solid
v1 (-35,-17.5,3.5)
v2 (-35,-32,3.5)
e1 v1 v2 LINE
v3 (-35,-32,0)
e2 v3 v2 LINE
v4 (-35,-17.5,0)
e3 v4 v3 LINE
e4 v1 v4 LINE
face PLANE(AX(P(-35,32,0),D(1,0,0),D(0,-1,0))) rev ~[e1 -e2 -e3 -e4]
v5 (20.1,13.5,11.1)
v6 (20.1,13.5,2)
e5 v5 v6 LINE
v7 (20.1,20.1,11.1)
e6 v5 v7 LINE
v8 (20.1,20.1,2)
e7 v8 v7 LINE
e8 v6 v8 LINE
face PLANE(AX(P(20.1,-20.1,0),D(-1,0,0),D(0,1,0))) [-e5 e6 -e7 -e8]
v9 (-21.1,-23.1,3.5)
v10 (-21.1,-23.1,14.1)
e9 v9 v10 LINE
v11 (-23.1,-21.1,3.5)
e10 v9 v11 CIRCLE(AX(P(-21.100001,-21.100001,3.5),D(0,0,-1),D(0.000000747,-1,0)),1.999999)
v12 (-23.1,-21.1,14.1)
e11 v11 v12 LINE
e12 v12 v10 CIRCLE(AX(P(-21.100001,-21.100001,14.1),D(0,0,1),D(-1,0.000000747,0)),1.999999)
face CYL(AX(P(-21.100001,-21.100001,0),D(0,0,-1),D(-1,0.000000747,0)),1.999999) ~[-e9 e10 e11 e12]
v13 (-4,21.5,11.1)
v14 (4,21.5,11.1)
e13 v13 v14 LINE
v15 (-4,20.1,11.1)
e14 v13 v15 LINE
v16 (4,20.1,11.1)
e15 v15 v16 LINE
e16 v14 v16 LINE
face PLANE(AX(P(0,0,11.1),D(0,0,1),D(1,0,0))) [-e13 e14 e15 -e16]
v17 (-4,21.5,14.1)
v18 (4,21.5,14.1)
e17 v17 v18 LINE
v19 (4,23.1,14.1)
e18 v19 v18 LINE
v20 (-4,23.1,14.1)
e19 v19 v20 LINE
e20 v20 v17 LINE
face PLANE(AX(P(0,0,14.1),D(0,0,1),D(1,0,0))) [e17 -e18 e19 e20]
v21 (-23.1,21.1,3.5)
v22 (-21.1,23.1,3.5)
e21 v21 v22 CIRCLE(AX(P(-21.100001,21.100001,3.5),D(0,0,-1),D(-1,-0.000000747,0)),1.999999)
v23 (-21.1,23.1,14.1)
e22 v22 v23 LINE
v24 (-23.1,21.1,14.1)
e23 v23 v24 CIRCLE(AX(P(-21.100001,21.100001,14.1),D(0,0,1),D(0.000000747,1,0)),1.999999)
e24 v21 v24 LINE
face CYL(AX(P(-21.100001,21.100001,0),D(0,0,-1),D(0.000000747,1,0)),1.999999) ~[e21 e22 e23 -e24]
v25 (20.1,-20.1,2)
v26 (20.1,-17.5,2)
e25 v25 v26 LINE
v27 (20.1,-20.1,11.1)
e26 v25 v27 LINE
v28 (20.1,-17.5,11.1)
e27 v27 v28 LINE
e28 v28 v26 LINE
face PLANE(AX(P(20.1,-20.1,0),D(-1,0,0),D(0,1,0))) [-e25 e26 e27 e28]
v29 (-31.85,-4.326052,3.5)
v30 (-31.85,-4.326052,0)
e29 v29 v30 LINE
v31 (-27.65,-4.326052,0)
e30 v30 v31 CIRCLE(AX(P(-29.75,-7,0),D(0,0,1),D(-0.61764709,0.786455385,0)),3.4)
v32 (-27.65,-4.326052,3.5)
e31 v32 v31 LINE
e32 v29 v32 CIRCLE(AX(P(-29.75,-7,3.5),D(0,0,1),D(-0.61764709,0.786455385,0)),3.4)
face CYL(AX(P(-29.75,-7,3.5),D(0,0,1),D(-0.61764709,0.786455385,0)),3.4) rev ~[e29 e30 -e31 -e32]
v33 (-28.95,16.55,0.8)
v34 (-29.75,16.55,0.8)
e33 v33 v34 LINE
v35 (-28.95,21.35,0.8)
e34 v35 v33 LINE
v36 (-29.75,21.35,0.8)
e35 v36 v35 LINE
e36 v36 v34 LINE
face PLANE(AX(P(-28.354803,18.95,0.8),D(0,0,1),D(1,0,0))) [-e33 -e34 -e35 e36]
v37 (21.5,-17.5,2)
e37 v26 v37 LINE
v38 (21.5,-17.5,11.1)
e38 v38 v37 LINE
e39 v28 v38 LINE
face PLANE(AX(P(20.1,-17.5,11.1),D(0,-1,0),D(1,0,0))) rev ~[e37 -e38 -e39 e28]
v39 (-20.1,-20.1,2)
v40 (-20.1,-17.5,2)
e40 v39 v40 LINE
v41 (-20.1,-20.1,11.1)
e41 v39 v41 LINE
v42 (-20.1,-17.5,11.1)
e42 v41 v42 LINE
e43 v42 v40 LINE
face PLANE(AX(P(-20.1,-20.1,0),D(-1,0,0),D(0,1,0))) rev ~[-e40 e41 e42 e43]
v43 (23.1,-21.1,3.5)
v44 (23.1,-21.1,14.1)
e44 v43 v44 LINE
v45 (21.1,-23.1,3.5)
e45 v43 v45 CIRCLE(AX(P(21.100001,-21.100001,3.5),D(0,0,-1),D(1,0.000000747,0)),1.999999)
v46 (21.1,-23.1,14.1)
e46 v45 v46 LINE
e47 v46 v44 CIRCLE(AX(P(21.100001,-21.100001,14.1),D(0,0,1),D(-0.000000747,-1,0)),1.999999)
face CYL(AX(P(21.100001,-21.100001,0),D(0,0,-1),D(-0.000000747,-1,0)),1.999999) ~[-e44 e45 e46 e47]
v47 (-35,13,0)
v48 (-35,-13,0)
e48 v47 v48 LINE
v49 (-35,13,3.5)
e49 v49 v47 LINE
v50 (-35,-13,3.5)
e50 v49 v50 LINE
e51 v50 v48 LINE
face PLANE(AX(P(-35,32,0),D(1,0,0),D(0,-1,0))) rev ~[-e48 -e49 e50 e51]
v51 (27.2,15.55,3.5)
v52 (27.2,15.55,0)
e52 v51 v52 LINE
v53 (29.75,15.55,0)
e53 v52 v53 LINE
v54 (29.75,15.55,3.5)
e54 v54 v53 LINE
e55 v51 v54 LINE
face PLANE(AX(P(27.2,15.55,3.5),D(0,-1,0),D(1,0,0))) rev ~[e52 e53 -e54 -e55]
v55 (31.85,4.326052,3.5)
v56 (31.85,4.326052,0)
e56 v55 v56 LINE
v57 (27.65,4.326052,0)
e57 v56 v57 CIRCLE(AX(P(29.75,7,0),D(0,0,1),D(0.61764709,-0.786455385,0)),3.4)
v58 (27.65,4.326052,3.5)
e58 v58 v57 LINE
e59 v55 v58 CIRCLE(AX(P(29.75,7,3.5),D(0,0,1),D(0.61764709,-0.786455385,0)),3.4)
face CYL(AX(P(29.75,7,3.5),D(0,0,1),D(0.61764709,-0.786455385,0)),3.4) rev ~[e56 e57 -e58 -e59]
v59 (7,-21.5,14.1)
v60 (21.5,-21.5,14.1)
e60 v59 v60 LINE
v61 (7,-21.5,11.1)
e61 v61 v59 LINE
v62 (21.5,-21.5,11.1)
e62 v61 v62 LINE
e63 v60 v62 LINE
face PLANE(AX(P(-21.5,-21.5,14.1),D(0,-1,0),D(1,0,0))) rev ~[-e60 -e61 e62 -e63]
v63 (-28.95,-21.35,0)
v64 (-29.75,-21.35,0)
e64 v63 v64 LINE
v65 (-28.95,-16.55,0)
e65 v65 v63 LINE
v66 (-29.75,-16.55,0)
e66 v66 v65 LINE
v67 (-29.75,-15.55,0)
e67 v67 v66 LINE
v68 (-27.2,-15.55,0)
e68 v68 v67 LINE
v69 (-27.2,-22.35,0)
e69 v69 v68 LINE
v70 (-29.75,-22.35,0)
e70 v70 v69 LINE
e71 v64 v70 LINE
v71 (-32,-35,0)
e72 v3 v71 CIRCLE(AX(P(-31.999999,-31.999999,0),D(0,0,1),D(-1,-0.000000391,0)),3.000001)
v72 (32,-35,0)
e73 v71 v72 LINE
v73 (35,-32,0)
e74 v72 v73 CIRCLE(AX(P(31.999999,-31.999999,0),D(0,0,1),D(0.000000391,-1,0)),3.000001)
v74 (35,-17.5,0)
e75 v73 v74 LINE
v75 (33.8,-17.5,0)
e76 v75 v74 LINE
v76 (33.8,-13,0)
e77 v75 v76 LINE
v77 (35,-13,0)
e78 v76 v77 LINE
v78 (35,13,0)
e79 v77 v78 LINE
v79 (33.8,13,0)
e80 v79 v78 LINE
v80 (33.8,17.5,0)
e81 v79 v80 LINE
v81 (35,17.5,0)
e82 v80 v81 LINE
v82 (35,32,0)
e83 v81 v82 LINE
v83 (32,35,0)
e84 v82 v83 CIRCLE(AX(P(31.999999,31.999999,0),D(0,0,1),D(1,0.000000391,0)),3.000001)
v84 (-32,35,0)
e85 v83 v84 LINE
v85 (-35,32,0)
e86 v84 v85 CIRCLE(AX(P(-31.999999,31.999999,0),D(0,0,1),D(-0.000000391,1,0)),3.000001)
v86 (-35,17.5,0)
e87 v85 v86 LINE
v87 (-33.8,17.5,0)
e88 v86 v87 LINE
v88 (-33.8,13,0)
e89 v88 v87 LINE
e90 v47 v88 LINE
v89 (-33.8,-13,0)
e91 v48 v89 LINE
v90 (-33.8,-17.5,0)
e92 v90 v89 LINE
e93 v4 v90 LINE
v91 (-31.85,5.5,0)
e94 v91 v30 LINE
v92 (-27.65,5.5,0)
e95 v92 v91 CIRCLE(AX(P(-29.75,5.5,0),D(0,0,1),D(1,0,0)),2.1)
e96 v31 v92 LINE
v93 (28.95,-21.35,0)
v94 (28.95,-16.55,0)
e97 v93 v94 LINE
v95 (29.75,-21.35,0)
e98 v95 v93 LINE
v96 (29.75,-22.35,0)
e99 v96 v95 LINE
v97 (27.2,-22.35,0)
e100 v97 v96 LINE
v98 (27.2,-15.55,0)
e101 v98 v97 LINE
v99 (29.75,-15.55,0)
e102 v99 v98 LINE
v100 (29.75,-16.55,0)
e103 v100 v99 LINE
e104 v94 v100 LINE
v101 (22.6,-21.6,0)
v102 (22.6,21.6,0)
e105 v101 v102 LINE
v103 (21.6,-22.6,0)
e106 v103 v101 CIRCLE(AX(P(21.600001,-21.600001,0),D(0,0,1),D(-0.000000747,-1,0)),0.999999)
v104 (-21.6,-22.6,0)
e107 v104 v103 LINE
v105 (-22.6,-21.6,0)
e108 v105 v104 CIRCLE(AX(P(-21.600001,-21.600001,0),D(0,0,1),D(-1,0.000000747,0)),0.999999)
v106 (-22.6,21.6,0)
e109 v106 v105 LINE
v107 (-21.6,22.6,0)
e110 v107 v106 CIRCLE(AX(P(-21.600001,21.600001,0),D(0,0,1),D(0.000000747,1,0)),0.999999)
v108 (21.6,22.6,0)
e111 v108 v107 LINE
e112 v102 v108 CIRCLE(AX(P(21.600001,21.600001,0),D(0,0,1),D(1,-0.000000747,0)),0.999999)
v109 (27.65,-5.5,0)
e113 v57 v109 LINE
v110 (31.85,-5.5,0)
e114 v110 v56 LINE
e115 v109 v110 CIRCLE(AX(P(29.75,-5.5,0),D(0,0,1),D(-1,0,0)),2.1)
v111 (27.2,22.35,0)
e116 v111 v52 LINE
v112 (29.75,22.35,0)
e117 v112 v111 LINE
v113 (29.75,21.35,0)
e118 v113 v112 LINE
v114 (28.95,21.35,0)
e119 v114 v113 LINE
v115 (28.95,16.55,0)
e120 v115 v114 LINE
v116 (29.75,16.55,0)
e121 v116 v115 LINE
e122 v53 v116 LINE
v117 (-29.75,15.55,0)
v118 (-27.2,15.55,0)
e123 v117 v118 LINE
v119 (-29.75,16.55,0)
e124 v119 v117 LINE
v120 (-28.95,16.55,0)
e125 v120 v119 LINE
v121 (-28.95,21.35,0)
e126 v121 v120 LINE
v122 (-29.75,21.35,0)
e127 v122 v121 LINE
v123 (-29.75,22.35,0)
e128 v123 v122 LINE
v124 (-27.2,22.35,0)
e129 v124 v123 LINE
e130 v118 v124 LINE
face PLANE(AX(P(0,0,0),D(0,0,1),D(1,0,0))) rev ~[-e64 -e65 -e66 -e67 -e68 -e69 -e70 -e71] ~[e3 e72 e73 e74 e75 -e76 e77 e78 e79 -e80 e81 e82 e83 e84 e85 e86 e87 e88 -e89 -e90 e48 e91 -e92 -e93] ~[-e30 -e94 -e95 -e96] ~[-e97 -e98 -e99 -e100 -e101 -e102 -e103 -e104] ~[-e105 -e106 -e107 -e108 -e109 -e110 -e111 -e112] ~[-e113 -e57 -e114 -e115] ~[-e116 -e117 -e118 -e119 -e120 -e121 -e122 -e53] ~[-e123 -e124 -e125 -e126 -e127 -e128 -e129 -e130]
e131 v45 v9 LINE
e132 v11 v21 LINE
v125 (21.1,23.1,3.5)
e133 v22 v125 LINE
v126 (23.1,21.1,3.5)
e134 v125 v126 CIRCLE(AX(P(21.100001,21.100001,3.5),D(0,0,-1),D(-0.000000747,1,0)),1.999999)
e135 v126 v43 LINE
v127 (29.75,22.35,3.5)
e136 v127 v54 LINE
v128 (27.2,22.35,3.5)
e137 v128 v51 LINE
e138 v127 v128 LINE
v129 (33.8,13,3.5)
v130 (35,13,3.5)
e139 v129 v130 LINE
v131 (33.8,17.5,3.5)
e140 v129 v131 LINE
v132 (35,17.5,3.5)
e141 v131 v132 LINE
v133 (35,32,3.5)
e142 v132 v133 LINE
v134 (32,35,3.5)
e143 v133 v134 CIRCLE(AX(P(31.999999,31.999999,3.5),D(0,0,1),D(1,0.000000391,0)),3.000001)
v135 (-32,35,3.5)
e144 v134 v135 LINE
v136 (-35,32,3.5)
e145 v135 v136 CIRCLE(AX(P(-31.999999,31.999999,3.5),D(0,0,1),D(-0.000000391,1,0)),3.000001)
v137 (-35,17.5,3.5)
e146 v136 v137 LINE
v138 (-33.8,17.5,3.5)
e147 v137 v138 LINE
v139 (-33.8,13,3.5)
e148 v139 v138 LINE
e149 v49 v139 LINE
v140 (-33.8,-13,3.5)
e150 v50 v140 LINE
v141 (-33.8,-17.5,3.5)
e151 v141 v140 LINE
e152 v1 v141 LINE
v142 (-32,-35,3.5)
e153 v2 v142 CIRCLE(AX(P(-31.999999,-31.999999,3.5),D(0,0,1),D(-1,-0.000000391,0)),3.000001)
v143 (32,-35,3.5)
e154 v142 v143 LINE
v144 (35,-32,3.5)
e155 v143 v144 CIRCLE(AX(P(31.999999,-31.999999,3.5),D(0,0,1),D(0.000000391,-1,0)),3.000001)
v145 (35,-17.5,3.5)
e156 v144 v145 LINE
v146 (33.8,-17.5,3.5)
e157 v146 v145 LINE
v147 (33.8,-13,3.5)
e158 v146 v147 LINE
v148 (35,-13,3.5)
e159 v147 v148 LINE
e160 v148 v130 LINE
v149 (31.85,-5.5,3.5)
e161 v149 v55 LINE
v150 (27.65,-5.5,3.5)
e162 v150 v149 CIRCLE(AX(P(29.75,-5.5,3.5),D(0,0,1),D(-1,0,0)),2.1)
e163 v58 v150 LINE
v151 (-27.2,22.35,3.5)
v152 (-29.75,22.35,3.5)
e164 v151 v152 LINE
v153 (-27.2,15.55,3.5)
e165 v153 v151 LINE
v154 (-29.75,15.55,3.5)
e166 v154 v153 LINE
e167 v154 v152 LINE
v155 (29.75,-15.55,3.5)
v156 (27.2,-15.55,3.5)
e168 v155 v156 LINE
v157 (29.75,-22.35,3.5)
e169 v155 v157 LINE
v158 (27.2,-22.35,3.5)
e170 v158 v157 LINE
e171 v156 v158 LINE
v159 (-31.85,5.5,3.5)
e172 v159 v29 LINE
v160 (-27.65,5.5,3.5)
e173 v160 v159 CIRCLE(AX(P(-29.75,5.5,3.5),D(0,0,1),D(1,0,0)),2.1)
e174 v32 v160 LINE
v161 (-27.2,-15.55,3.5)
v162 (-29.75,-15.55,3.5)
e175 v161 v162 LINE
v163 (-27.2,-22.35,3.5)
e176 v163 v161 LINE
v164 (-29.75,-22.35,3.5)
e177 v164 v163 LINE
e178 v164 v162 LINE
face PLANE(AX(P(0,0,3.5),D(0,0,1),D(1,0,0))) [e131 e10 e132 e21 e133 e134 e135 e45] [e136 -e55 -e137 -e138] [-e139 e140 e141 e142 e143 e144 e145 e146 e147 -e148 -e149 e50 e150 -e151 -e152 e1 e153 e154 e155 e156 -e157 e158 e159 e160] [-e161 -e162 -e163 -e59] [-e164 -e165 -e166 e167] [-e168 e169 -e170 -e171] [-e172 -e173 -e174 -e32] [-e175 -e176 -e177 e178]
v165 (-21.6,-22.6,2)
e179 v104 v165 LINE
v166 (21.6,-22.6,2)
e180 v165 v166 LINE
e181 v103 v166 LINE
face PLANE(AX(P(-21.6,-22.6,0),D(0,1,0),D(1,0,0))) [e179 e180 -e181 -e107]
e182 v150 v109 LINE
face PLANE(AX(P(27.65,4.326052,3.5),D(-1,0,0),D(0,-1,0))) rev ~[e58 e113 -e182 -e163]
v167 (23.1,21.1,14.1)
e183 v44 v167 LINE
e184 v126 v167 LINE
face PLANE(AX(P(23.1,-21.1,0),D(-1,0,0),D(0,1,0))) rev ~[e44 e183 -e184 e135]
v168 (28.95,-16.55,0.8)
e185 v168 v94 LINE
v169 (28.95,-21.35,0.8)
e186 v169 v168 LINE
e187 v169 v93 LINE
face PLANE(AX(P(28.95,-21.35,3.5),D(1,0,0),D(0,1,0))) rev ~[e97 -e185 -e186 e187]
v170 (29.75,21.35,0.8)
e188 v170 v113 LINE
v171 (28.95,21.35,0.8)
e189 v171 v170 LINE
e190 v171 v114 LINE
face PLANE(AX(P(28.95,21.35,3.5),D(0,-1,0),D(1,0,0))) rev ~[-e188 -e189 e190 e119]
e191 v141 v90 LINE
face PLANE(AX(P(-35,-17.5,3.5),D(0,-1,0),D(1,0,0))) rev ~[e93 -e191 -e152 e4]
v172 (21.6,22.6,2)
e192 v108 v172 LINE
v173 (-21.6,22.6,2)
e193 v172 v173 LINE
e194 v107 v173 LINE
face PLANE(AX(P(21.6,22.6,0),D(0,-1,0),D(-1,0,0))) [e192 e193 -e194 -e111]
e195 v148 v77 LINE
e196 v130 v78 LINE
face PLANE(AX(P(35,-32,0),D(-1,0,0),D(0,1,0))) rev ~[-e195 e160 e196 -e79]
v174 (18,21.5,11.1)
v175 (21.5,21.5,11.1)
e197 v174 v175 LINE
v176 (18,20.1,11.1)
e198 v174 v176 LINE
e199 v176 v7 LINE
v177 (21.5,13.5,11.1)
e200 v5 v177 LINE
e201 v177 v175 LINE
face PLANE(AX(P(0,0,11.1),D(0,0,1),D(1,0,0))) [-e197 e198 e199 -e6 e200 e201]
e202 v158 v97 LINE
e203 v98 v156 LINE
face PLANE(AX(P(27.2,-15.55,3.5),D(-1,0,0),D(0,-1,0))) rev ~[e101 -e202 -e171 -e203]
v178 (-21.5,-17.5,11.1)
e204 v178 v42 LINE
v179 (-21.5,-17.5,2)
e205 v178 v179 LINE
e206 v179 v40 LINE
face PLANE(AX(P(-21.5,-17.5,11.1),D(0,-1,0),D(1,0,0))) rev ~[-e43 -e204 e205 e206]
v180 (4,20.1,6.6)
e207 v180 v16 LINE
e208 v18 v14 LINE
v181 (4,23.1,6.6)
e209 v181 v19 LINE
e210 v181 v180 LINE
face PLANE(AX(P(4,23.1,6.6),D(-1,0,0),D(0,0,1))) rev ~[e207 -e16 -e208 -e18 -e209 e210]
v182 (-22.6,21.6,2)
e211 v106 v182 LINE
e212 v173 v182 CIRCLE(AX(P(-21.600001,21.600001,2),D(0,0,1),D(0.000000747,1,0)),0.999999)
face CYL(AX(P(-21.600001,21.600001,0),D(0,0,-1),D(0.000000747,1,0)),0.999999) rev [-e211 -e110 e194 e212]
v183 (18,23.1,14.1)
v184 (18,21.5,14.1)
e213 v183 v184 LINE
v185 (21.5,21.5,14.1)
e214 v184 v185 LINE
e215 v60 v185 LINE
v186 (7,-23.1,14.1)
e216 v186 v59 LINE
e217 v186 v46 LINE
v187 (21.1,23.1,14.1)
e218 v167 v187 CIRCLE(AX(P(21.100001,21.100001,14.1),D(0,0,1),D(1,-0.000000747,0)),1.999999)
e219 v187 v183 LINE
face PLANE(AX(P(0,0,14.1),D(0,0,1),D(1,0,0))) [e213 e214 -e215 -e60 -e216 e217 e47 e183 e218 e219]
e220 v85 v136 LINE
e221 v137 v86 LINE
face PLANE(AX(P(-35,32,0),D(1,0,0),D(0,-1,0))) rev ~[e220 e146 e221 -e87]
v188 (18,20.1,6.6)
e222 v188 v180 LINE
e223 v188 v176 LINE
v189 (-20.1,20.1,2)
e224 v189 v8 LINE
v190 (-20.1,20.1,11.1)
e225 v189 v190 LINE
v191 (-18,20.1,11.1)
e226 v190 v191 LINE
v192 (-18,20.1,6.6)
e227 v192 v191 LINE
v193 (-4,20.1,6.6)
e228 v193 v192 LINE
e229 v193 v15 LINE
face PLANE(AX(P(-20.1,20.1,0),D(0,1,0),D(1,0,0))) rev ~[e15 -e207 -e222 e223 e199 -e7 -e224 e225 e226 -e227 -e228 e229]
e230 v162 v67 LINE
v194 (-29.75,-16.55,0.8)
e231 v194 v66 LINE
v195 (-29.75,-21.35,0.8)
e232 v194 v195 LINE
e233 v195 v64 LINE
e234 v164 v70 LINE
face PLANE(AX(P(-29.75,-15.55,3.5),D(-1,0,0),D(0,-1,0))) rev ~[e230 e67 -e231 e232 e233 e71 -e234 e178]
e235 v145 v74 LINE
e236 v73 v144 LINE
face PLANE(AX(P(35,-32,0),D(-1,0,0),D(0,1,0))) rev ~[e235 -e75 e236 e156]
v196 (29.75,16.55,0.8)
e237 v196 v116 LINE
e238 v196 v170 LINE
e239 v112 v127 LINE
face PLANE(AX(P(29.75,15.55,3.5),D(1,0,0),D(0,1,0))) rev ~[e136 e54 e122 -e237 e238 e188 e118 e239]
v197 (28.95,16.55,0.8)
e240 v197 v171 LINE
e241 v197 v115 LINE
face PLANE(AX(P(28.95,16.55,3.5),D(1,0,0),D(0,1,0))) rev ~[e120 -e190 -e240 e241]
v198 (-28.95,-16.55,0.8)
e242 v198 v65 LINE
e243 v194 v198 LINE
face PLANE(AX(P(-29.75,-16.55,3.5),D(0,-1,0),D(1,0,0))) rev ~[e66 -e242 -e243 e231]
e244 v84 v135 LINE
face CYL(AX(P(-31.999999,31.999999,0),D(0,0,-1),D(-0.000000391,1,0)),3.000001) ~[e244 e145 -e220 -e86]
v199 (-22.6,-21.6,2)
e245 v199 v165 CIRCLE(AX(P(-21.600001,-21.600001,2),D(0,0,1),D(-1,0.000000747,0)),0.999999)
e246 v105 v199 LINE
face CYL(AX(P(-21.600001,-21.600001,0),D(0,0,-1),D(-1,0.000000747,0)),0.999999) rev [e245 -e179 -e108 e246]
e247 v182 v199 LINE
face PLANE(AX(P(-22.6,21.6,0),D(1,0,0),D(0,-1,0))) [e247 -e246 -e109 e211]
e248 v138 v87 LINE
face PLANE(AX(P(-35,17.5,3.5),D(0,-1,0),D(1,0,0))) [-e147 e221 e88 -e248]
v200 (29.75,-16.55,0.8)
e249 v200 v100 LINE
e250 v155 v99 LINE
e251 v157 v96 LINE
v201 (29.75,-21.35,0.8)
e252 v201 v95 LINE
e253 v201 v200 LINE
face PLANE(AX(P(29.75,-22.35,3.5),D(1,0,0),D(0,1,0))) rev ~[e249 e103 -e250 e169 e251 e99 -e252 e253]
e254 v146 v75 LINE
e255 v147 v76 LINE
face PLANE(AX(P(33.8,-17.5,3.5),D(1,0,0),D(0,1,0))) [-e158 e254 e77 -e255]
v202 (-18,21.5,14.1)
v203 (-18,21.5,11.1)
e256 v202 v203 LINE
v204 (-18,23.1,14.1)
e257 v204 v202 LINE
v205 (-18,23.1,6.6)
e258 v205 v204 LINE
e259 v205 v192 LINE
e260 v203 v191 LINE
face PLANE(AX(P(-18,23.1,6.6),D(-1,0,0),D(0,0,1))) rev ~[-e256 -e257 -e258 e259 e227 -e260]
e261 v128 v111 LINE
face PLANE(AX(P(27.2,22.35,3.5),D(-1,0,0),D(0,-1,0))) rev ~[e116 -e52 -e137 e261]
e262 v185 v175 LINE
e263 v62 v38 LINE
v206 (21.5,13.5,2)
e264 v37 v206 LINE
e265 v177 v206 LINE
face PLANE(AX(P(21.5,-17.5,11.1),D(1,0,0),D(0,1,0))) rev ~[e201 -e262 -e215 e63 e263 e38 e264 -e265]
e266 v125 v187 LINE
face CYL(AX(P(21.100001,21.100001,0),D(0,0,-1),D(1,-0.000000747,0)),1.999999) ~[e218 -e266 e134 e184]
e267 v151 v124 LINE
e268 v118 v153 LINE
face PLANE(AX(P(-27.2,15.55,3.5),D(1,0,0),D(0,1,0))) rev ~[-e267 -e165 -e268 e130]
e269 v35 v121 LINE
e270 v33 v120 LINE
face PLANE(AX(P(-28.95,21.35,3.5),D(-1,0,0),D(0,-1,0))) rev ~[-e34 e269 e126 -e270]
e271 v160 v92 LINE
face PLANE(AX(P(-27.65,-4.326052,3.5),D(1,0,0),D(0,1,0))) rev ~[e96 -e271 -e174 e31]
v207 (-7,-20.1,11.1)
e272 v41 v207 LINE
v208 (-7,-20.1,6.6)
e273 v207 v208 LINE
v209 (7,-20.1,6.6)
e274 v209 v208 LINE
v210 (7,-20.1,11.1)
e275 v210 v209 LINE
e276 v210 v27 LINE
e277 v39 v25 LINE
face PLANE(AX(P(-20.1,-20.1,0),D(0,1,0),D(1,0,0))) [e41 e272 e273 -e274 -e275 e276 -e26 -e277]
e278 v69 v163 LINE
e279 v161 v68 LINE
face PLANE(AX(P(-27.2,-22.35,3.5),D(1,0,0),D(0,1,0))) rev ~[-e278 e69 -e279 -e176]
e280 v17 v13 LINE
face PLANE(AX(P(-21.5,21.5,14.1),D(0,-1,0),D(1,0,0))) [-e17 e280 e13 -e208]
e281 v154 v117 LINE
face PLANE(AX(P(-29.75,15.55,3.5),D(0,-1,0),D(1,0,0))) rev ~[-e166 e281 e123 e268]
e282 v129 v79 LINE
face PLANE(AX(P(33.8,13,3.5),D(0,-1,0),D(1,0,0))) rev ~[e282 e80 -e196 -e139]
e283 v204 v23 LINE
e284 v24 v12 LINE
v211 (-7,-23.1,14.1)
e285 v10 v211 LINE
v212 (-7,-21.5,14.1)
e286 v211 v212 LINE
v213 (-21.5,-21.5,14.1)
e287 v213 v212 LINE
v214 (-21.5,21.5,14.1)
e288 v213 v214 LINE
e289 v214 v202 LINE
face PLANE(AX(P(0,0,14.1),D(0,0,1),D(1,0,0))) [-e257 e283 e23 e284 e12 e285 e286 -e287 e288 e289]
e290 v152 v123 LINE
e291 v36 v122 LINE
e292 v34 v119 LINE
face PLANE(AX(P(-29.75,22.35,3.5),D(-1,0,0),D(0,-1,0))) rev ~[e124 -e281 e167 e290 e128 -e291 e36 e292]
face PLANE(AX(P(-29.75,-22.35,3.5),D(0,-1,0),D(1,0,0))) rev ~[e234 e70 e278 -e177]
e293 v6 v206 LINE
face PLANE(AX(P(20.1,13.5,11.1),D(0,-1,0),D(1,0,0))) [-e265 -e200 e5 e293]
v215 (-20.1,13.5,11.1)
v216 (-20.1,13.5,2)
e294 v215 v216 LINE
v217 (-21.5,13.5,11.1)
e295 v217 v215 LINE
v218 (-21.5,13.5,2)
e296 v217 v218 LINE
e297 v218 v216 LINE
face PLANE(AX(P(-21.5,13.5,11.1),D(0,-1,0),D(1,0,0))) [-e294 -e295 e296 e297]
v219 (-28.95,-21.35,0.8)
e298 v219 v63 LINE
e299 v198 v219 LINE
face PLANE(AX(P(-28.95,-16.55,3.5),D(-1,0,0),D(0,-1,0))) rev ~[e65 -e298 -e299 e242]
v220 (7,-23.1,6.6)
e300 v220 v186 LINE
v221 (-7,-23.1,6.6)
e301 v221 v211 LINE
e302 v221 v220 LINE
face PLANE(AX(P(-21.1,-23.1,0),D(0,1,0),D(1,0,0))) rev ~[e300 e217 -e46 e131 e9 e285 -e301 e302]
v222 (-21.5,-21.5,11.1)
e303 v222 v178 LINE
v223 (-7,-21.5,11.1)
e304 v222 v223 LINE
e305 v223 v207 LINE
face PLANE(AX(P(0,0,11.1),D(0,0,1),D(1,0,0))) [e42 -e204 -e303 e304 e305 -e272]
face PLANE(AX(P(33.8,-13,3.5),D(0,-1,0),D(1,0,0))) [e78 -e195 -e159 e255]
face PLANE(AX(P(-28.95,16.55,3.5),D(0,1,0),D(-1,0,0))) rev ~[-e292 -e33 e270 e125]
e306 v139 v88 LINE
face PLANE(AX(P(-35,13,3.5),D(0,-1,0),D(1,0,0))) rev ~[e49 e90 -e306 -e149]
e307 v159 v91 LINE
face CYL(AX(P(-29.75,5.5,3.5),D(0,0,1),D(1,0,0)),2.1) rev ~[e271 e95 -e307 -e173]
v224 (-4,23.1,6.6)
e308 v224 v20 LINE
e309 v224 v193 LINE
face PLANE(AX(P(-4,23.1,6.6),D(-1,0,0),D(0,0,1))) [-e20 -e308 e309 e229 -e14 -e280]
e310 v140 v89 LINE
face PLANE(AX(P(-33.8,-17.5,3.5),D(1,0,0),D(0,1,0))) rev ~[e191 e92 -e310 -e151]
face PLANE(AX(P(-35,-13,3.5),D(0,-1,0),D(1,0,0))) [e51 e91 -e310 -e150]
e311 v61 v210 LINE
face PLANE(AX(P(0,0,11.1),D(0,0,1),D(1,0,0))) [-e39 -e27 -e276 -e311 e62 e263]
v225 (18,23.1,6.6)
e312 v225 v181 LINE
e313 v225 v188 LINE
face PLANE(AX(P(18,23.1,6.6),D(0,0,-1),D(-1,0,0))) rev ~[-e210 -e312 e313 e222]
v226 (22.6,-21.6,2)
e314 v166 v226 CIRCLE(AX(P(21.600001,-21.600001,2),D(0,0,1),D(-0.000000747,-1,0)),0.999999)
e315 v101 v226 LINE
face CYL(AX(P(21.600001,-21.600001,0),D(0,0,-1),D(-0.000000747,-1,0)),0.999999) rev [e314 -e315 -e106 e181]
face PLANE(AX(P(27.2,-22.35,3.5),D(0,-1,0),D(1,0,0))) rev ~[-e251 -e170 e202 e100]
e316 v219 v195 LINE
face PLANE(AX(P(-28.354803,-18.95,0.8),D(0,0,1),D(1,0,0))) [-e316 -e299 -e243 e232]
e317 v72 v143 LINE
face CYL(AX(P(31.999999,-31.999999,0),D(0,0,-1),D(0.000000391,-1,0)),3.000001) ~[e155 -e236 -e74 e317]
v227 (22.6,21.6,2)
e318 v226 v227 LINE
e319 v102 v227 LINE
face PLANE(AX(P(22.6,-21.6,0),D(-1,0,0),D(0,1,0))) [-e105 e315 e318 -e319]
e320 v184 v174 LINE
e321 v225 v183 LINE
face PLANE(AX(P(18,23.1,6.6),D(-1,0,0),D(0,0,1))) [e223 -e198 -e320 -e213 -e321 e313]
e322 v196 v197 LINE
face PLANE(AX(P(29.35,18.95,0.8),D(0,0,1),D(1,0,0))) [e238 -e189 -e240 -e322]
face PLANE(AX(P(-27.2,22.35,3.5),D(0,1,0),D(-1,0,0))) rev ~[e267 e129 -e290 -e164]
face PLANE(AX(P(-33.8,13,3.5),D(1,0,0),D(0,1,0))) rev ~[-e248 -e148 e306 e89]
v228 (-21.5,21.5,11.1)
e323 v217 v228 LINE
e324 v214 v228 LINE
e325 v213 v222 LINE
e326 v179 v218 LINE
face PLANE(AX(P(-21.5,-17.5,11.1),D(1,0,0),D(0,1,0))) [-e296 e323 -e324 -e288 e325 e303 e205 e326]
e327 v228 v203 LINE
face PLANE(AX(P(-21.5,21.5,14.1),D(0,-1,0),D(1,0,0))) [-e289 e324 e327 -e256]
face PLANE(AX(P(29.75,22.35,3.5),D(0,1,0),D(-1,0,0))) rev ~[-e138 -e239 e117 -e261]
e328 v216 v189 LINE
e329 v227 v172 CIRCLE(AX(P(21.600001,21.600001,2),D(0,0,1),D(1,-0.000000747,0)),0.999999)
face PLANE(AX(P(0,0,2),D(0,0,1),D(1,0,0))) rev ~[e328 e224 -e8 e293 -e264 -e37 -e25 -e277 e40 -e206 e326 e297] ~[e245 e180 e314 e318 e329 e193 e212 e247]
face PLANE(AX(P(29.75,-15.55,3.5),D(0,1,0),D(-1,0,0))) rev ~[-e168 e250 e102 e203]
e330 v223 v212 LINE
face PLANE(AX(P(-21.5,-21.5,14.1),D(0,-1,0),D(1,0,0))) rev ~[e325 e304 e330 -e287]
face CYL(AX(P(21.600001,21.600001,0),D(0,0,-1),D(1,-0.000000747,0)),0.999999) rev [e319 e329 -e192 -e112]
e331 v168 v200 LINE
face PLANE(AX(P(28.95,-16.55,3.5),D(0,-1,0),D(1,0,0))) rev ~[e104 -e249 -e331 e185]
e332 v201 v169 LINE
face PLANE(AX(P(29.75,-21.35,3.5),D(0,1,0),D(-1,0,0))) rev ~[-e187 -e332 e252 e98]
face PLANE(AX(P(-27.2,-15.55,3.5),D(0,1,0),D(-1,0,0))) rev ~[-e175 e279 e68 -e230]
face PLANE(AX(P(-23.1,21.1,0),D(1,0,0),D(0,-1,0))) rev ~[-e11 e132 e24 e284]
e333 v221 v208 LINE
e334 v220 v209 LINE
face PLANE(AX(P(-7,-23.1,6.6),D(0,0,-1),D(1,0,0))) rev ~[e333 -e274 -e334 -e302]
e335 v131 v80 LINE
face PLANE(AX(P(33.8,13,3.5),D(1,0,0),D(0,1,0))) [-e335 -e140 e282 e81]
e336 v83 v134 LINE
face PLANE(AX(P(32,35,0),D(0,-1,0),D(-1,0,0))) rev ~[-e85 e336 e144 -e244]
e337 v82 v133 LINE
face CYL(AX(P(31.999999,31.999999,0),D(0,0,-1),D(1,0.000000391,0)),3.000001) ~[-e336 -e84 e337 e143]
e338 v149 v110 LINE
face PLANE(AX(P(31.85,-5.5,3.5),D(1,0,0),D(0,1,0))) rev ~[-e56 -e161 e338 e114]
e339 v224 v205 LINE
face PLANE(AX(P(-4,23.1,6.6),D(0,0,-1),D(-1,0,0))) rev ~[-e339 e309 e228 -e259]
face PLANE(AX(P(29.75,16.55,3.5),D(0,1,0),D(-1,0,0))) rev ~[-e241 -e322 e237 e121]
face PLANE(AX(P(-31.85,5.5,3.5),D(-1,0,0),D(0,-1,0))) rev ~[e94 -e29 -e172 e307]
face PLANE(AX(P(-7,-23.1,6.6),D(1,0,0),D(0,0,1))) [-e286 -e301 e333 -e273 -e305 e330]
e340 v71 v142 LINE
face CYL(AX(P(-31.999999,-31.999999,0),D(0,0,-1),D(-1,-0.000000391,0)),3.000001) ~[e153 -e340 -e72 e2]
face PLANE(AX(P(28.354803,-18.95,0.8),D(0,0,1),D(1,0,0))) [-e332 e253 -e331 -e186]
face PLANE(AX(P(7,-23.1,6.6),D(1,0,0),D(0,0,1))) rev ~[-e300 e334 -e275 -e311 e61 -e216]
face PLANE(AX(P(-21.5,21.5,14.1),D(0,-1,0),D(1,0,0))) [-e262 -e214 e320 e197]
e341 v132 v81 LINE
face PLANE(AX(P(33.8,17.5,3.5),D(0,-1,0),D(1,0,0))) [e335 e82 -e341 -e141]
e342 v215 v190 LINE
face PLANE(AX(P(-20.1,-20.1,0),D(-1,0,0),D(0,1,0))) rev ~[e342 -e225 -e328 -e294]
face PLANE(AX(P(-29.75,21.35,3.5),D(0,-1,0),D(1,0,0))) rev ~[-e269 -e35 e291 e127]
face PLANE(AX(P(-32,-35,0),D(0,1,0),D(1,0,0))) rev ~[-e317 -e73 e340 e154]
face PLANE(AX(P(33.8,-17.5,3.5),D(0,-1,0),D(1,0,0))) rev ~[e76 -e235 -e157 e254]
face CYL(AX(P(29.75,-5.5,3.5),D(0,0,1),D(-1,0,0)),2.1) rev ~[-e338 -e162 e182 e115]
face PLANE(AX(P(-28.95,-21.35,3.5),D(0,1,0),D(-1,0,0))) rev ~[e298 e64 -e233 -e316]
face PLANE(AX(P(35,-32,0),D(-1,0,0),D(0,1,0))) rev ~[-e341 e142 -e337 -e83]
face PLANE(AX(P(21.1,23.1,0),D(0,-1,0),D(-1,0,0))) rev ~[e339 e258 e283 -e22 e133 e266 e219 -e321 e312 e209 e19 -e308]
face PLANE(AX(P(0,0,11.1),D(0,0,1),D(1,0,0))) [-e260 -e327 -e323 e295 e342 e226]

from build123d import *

# Parameters (mm, degrees)
F0_W      = 40.2
F0_H      = 40.2
F1_DEPTH  = 14.1
F2_DEPTH  = 3.5
F3_W      = 1.2
F3_H      = 4.5
F4_DEPTH  = 25
F6_DEPTH  = 2
F7_W      = 43
F7_H      = 43
F7_W_2    = 40.2
F7_H_2    = 40.2
F8_DEPTH  = 3
F9_W      = 14
F9_H      = 7.5
F10_DEPTH = 5
F11_W     = 14
F11_H     = 7.5
F12_DEPTH = 5
F13_W     = 1.4
F13_H     = 31
F14_DEPTH = 15
F15_W     = 0.8
F15_H     = 4.8
F16_DEPTH = 2.7
F17_DEPTH = 7


with BuildPart() as f1:
    # F0 (on Top) → F1 (new body)
    with BuildSketch(Plane.XY):
        with BuildLine():
            Line((23.1, -21.1), (23.1, 21.1))
            ThreePointArc((23.1, 21.1), (22.514214, 22.514214), (21.1, 23.1))
            Line((21.1, 23.1), (-21.1, 23.1))
            ThreePointArc((-21.1, 23.1), (-22.514214, 22.514214), (-23.1, 21.1))
            Line((-23.1, 21.1), (-23.1, -21.1))
            ThreePointArc((-23.1, -21.1), (-22.514214, -22.514214), (-21.1, -23.1))
            Line((-21.1, -23.1), (21.1, -23.1))
            ThreePointArc((21.1, -23.1), (22.514214, -22.514214), (23.1, -21.1))
        make_face()
        Rectangle(F0_W, F0_H, mode=Mode.SUBTRACT)
    extrude(amount=F1_DEPTH)

    # F0 (on Top) → F2 (join)
    with BuildSketch(Plane.XY):
        with BuildLine():
            Line((32, 35), (-32, 35))
            ThreePointArc((-32, 35), (-34.12132, 34.12132), (-35, 32))
            Line((-35, 32), (-35, -32))
            ThreePointArc((-35, -32), (-34.12132, -34.12132), (-32, -35))
            Line((-32, -35), (32, -35))
            ThreePointArc((32, -35), (34.12132, -34.12132), (35, -32))
            Line((35, -32), (35, 32))
            ThreePointArc((35, 32), (34.12132, 34.12132), (32, 35))
        make_face()
        with BuildLine():
            ThreePointArc((21.1, 23.1), (22.514214, 22.514214), (23.1, 21.1))
            Line((23.1, 21.1), (23.1, -21.1))
            ThreePointArc((23.1, -21.1), (22.514214, -22.514214), (21.1, -23.1))
            Line((21.1, -23.1), (-21.1, -23.1))
            ThreePointArc((-21.1, -23.1), (-22.514214, -22.514214), (-23.1, -21.1))
            Line((-23.1, -21.1), (-23.1, 21.1))
            ThreePointArc((-23.1, 21.1), (-22.514214, 22.514214), (-21.1, 23.1))
            Line((-21.1, 23.1), (21.1, 23.1))
        make_face(mode=Mode.SUBTRACT)
    extrude(amount=F2_DEPTH)

    # F3 (on face) → F4 (cut)
    with BuildSketch(Plane.XY.offset(3.5)):
        with Locations((-34.4, 15.25)):
            Rectangle(F3_W, F3_H)
        with Locations((34.4, -15.25)):
            Rectangle(F3_W, F3_H)
        with BuildLine():
            Line((31.85, -5.5), (31.85, 4.326052))
            ThreePointArc((31.85, 4.326052), (29.75, 10.4), (27.65, 4.326052))
            Line((27.65, 4.326052), (27.65, -5.5))
            ThreePointArc((27.65, -5.5), (29.75, -7.6), (31.85, -5.5))
        make_face()
        with BuildLine():
            ThreePointArc((-27.65, 5.5), (-29.75, 7.6), (-31.85, 5.5))
            Line((-31.85, 5.5), (-31.85, -4.326052))
            ThreePointArc((-31.85, -4.326052), (-29.75, -10.4), (-27.65, -4.326052))
            Line((-27.65, -4.326052), (-27.65, 5.5))
        make_face()
        with Locations((34.4, 15.25)):
            Rectangle(F3_W, F3_H)
        with Locations((-34.4, -15.25)):
            Rectangle(F3_W, F3_H)
    extrude(amount=-F4_DEPTH, mode=Mode.SUBTRACT)

    # F5 (on Top) → F6 (cut)
    with BuildSketch(Plane.XY):
        with BuildLine():
            ThreePointArc((-22.6, -21.6), (-22.307107, -22.307107), (-21.6, -22.6))
            Line((-21.6, -22.6), (21.6, -22.6))
            ThreePointArc((21.6, -22.6), (22.307107, -22.307107), (22.6, -21.6))
            Line((22.6, -21.6), (22.6, 21.6))
            ThreePointArc((22.6, 21.6), (22.307107, 22.307107), (21.6, 22.6))
            Line((21.6, 22.6), (-21.6, 22.6))
            ThreePointArc((-21.6, 22.6), (-22.307107, 22.307107), (-22.6, 21.6))
            Line((-22.6, 21.6), (-22.6, -21.6))
        make_face()
    extrude(amount=F6_DEPTH, mode=Mode.SUBTRACT)

    # F7 (on face) → F8 (cut)
    with BuildSketch(Plane.XY.offset(14.1)):
        Rectangle(F7_W, F7_H)
        Rectangle(F7_W_2, F7_H_2, mode=Mode.SUBTRACT)
    extrude(amount=-F8_DEPTH, mode=Mode.SUBTRACT)

    # F9 (on face) → F10 (cut)
    with BuildSketch(Plane.XZ.offset(23.1)):
        with Locations((0, 10.35)):
            Rectangle(F9_W, F9_H)
    extrude(amount=-F10_DEPTH, mode=Mode.SUBTRACT)

    # F11 (on face) → F12 (cut)
    with BuildSketch(Plane(origin=(0, 23.1, 0), x_dir=(-1, 0, 0), z_dir=(0, 1, 0))):
        with Locations((-11, 10.35)):
            Rectangle(F11_W, F11_H)
        with Locations((11, 10.35)):
            Rectangle(F11_W, F11_H)
    extrude(amount=-F12_DEPTH, mode=Mode.SUBTRACT)

    # F13 (on face) → F14 (cut)
    with BuildSketch(Plane.XY.offset(11.1)):
        with Locations((-20.8, -2)):
            Rectangle(F13_W, F13_H)
        with Locations((20.8, -2)):
            Rectangle(F13_W, F13_H)
    extrude(amount=-F14_DEPTH, mode=Mode.SUBTRACT)

    # F15 (on face) → F16 (cut)
    with BuildSketch(Plane.XY.offset(3.5)):
        Polygon((-27.2, 15.55), (-27.2, 22.35), (-29.75, 22.35), (-29.75, 21.35), (-28.95, 21.35), (-28.95, 16.55), (-29.75, 16.55), (-29.75, 15.55), align=None)
        with Locations((-29.35, 18.95)):
            Rectangle(F15_W, F15_H)
        with Locations((29.35, 18.95)):
            Rectangle(F15_W, F15_H)
        Polygon((29.75, 22.35), (27.2, 22.35), (27.2, 15.55), (29.75, 15.55), (29.75, 16.55), (28.95, 16.55), (28.95, 21.35), (29.75, 21.35), align=None)
        Polygon((27.2, -15.55), (27.2, -22.35), (29.75, -22.35), (29.75, -21.35), (28.95, -21.35), (28.95, -16.55), (29.75, -16.55), (29.75, -15.55), align=None)
        with Locations((29.35, -18.95)):
            Rectangle(F15_W, F15_H)
        Polygon((-27.2, -22.35), (-27.2, -15.55), (-29.75, -15.55), (-29.75, -16.55), (-28.95, -16.55), (-28.95, -21.35), (-29.75, -21.35), (-29.75, -22.35), align=None)
        with Locations((-29.35, -18.95)):
            Rectangle(F15_W, F15_H)
    extrude(amount=-F16_DEPTH, mode=Mode.SUBTRACT)

    # F15 (on face) → F17 (cut)
    with BuildSketch(Plane.XY.offset(3.5)):
        Polygon((-27.2, 15.55), (-27.2, 22.35), (-29.75, 22.35), (-29.75, 21.35), (-28.95, 21.35), (-28.95, 16.55), (-29.75, 16.55), (-29.75, 15.55), align=None)
        Polygon((29.75, 22.35), (27.2, 22.35), (27.2, 15.55), (29.75, 15.55), (29.75, 16.55), (28.95, 16.55), (28.95, 21.35), (29.75, 21.35), align=None)
        Polygon((27.2, -15.55), (27.2, -22.35), (29.75, -22.35), (29.75, -21.35), (28.95, -21.35), (28.95, -16.55), (29.75, -16.55), (29.75, -15.55), align=None)
        Polygon((-27.2, -22.35), (-27.2, -15.55), (-29.75, -15.55), (-29.75, -16.55), (-28.95, -16.55), (-28.95, -21.35), (-29.75, -21.35), (-29.75, -22.35), align=None)
    extrude(amount=-F17_DEPTH, mode=Mode.SUBTRACT)


solid = f1.part
